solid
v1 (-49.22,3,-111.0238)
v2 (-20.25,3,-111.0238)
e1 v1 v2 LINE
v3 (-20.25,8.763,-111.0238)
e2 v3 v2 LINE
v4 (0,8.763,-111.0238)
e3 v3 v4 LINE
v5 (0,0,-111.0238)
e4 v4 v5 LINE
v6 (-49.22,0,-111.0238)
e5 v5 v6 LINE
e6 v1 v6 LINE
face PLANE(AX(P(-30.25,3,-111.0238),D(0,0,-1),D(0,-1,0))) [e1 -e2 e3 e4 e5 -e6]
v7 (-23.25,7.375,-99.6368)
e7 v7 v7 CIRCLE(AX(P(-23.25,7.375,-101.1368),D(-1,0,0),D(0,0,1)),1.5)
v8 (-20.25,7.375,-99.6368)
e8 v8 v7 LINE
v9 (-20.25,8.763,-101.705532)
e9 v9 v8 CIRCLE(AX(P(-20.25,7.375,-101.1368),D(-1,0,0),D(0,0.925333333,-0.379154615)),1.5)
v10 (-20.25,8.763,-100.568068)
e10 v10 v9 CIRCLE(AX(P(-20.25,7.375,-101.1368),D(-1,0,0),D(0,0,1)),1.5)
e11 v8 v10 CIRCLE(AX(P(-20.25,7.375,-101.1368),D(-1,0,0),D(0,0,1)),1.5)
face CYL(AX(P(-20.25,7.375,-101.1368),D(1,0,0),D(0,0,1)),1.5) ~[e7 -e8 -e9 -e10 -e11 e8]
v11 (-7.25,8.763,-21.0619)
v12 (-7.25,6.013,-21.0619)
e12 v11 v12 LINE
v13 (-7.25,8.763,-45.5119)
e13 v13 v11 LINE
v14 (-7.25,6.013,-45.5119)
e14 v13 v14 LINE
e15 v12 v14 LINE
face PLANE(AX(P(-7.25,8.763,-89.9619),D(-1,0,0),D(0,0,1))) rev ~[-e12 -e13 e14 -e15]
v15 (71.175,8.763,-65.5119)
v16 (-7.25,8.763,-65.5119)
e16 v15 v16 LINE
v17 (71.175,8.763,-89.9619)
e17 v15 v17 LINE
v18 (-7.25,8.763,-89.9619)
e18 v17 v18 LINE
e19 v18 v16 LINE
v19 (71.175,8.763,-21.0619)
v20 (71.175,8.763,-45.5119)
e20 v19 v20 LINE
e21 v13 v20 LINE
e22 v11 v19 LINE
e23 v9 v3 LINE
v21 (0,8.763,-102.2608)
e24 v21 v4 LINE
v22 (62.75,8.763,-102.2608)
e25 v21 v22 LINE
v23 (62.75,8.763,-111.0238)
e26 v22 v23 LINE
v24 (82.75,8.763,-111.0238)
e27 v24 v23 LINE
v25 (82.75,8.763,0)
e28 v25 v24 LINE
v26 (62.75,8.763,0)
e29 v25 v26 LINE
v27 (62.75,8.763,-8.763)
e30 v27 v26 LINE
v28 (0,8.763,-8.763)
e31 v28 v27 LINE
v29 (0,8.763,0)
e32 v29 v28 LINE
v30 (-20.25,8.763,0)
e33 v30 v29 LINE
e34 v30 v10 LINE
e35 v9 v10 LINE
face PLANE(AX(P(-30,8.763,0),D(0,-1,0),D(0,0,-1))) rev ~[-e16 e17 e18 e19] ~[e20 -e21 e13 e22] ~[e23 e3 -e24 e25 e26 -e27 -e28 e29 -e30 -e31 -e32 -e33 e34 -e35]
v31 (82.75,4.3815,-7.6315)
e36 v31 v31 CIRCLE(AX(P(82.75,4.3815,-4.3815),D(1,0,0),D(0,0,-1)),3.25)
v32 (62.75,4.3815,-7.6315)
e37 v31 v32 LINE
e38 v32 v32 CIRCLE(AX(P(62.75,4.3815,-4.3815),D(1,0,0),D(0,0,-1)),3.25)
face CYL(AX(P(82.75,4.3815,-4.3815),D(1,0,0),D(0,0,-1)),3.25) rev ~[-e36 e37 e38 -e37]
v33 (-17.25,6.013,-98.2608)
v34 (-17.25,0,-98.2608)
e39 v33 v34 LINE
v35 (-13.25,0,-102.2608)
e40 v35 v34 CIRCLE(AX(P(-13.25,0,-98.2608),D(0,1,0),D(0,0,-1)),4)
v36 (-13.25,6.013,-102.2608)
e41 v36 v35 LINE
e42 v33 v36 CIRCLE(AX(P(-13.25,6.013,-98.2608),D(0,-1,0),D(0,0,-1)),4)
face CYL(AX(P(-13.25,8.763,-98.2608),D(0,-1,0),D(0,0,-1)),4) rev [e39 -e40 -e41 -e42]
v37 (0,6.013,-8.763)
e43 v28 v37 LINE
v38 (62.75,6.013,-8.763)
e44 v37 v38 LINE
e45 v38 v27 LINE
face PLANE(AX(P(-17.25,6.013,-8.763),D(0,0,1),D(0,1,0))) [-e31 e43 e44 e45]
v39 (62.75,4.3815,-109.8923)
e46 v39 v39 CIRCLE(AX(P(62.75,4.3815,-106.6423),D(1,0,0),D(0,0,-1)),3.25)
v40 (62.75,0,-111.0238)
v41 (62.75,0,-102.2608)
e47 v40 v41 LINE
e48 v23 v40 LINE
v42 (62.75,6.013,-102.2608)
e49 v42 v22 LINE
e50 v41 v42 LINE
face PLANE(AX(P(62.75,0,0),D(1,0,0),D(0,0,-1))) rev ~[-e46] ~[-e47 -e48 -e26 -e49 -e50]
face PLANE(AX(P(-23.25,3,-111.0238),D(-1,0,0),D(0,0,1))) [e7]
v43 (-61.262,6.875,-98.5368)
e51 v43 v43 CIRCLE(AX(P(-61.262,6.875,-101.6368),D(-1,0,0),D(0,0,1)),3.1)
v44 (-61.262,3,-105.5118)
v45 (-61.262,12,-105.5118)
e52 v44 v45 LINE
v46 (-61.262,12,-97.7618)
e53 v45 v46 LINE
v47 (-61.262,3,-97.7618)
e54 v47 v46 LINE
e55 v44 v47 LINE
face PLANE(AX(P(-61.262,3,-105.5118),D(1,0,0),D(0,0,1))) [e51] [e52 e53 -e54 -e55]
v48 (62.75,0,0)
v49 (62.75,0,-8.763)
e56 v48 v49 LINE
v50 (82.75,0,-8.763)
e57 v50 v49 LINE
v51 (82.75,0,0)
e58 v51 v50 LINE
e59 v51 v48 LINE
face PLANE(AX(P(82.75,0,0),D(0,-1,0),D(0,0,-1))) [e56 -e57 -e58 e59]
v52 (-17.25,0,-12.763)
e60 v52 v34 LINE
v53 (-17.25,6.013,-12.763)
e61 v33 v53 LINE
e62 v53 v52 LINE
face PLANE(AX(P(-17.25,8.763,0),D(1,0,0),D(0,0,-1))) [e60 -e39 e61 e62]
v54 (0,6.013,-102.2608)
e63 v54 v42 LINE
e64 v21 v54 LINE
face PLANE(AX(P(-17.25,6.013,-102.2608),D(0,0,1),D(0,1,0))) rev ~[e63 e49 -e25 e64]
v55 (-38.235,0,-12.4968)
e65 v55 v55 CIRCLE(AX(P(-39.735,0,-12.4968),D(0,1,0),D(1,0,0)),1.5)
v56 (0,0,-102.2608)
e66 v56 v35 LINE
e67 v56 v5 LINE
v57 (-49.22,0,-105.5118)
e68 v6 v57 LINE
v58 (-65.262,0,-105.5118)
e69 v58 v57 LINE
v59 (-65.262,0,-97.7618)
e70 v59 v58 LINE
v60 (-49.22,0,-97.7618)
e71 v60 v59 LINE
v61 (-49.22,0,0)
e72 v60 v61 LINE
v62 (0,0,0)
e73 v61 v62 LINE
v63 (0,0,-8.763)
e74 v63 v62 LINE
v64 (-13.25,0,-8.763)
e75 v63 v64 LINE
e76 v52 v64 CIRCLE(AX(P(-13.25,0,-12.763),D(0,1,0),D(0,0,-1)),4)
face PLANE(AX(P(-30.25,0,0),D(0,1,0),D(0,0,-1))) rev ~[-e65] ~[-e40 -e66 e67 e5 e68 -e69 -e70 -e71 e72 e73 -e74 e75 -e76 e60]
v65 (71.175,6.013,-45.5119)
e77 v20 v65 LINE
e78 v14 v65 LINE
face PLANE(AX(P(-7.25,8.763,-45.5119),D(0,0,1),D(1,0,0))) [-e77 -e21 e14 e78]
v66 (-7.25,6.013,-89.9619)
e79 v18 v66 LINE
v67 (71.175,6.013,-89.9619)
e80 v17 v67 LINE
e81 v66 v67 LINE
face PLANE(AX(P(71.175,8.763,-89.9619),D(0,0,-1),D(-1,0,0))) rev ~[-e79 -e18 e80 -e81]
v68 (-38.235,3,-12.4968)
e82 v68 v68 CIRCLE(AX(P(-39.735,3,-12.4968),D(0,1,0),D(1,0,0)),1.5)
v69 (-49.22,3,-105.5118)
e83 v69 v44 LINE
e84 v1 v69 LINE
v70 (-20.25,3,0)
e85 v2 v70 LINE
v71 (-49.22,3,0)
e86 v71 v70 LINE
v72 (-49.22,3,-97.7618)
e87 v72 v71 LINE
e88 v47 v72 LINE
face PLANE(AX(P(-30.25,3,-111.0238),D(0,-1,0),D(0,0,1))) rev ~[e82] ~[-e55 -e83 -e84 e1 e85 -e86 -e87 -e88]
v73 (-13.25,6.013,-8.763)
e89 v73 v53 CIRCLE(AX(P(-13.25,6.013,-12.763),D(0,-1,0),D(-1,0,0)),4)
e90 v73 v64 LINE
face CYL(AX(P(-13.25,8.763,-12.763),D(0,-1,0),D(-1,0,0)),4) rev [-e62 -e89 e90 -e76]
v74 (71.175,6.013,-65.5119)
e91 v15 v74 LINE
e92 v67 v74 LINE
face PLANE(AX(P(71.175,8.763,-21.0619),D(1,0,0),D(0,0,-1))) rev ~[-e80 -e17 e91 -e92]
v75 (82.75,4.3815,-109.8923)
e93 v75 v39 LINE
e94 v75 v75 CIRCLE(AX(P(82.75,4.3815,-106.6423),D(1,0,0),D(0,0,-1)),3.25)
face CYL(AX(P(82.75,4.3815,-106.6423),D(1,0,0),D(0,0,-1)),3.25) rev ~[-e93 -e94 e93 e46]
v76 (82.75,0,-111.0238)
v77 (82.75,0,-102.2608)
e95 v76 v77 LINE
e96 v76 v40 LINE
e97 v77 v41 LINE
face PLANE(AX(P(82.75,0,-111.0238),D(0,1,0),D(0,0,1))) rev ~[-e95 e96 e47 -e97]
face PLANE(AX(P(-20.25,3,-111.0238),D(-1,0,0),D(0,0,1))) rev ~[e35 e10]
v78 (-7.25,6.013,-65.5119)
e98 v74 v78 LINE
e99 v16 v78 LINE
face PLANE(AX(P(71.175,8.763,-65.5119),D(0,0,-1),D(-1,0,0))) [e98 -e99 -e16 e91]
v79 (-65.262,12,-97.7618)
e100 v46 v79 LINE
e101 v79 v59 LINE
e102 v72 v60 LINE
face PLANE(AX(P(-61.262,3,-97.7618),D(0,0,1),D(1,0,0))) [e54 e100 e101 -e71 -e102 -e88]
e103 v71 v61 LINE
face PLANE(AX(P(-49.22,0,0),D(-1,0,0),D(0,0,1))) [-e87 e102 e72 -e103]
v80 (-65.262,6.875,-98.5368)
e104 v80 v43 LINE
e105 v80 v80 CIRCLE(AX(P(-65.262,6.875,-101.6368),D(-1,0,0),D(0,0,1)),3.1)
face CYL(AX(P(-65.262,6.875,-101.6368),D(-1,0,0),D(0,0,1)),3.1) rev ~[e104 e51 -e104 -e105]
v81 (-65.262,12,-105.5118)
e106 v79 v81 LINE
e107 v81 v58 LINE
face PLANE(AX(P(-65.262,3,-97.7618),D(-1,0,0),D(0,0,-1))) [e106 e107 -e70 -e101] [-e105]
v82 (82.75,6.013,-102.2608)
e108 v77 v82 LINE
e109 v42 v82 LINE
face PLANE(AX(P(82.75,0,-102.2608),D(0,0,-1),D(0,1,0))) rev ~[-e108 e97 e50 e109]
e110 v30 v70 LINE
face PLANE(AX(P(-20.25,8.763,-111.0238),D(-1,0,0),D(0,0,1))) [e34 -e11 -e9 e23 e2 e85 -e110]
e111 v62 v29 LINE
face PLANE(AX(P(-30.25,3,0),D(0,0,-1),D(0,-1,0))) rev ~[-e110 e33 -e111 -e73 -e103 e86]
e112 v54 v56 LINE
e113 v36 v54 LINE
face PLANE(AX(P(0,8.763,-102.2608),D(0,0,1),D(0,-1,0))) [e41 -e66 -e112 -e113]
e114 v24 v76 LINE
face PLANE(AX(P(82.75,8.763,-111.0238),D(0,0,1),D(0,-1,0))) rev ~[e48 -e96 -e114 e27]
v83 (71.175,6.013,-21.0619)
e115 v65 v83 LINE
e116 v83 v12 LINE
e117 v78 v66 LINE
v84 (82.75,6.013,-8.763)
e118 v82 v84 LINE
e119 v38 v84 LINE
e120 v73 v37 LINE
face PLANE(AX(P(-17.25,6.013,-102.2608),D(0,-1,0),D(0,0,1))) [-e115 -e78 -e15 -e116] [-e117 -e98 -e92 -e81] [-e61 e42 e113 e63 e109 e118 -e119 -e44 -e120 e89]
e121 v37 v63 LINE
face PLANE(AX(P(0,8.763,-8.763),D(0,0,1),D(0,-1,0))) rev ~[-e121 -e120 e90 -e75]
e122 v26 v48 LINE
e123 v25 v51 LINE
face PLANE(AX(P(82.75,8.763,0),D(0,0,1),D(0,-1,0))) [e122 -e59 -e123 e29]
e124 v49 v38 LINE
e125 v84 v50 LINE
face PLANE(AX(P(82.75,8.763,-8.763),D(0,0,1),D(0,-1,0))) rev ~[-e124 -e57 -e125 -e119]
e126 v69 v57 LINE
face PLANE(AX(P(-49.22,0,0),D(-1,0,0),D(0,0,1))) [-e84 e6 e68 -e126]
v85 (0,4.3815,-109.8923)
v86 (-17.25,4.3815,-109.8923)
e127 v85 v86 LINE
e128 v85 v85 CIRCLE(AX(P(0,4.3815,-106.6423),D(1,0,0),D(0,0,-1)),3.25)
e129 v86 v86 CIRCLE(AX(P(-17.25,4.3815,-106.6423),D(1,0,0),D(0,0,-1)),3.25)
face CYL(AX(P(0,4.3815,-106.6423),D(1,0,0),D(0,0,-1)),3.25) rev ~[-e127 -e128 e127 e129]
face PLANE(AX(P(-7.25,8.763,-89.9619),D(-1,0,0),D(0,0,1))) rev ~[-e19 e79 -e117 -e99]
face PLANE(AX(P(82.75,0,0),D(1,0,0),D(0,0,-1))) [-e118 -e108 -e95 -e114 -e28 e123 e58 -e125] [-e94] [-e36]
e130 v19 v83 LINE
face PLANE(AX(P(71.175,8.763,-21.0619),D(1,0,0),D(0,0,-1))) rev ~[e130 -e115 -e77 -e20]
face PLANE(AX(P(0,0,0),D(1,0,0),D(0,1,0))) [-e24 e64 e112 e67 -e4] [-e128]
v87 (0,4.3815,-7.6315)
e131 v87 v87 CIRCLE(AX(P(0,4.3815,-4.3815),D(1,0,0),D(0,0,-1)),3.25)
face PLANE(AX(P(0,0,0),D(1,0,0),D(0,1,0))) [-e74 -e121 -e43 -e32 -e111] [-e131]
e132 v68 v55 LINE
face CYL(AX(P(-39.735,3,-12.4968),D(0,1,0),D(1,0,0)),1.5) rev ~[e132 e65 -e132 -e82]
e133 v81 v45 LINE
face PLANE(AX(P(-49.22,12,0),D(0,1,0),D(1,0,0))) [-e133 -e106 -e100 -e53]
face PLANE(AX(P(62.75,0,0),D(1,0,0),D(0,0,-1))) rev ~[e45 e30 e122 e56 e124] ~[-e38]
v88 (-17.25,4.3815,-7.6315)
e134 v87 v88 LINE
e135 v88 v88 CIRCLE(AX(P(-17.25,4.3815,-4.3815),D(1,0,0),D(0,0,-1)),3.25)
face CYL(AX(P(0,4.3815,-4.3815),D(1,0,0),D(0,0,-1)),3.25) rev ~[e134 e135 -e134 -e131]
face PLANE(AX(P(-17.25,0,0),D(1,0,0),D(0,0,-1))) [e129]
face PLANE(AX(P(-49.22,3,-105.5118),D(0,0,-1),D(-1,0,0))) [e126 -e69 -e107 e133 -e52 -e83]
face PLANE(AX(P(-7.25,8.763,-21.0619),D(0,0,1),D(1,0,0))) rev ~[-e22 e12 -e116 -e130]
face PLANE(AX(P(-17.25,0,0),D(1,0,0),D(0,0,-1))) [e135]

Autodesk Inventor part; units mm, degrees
ref_plane "YZ Plane" through (0, 0, 0) normal (1, 0, 0) x (0, 1, 0)
ref_plane "XZ Plane" through (0, 0, 0) normal (0, 1, 0) x (-1, 0, 0)
ref_plane "XY Plane" through (0, 0, 0) normal (0, 0, 1) x (1, 0, 0)
sketch "Sketch1" plane through (0, 0, 0) normal (1, 0, 0) x (0, 1, 0)
  line L0 (0, 0) -> (8.763, 0)
  line L1 (8.763, 0) -> (8.763, -5.5118)
  line L2 (8.763, -5.5118) -> (0, -5.5118)
  line L3 (0, -5.5118) -> (0, 0)
  line L4 (1.5875, -3.9243) -> (7.1755, -3.9243)
  line L5 (7.1755, -3.9243) -> (7.1755, -1.5875)
  line L6 (7.1755, -1.5875) -> (1.5875, -1.5875)
  line L7 (1.5875, -1.5875) -> (1.5875, -3.9243)
  line L8 (1.5875, -3.9243) -> (7.1755, -1.5875) construction
  line L9 (7.1755, -3.9243) -> (1.5875, -1.5875) construction
  line L10 (0, -105.512) -> (8.763, -105.512)
  line L11 (8.763, -105.512) -> (8.763, -111.0238)
  line L12 (8.763, -111.0238) -> (0, -111.0238)
  line L13 (0, -111.0238) -> (0, -105.512)
  line L14 (1.5875, -109.4363) -> (7.1755, -109.4363)
  line L15 (7.1755, -109.4363) -> (7.1755, -107.0995)
  line L16 (7.1755, -107.0995) -> (1.5875, -107.0995)
  line L17 (1.5875, -107.0995) -> (1.5875, -109.4363)
  line L18 (1.5875, -109.4363) -> (7.1755, -107.0995) construction
  line L19 (7.1755, -109.4363) -> (1.5875, -107.0995) construction
  point P0 (4.3815, -2.7559)
  point P1 (4.3815, -108.2679)
  dimension "d0" = 8.763
  dimension "d1" = 5.5118
  dimension "d2" = 5.588
  dimension "d3" = 2.3368
  dimension "d4" = 8.763
  dimension "d5" = 5.5118
  dimension "d6" = 5.588
  dimension "d7" = 2.3368
extrude "Extrusion1" add sketch "Sketch1" against normal blind 30
sketch "Sketch2" plane through (-30, 0, 0) normal (-1, 0, 0) x (0, 0, 1)
  line L0 (0, 0) -> (0, 8.763) projected
  line L1 (-111.0238, 0) -> (0, 0)
  line L2 (0, 0) -> (0, 8.763)
  line L3 (0, 8.763) -> (-111.0238, 8.763)
  line L4 (-111.0238, 8.763) -> (-111.0238, 0)
extrude "Extrusion2" add sketch "Sketch2" along normal blind 0.25
fillet "Fillet1" radius 5 2 edges at (-30, 4.3815, -5.5118) (-30, 4.3815, -105.512)
sketch "Sketch3" plane through (-30.25, 0, 0) normal (-1, 0, 0) x (0, 0, 1)
  point P0 (0, 0)
sketch "Sketch4" plane through (-30.25, 0, 0) normal (-1, 0, 0) x (0, 0, 1)
  line L0 (-111.0238, 8.763) -> (-111.0238, 0) projected
  line L1 (0, 0) -> (-111.0238, 0)
  line L2 (-111.0238, 0) -> (-111.0238, 3)
  line L3 (-111.0238, 3) -> (0, 3)
  line L4 (0, 3) -> (0, 0)
  dimension "d13" = 3
extrude "Extrusion3" add sketch "Sketch4" along normal blind 18.97
sketch "Sketch5" plane through (-30.25, 3, 0) normal (0, 1, 0) x (1, 0, 0)
  line L0 (0, 0) -> (0, 111.0238) construction
  line L1 (0, 0) -> (-9.485, 0) construction
  line L2 (-9.485, 0) -> (-9.485, 6.985) construction
  line L3 (-9.485, 6.985) -> (0, 6.985) construction
  line L4 (0, 6.985) -> (0, 0) construction
  circle A0 centre (-9.485, 6.985) radius 1.5875
  point P0 (30.25, 0)
  dimension "d16" = 9.485
  dimension "d17" = 6.985
  dimension "d18" = 3.175
extrude "Extrusion4" cut sketch "Sketch5" against normal blind 5
sketch "Sketch6" plane through (-30.25, 3, 0) normal (0, 1, 0) x (1, 0, 0)
  line L0 (30.25, 111.0238) -> (-18.97, 111.0238) construction
  line L1 (-28.07, 111.0238) -> (-28.07, 111.0238) construction
  line L2 (-28.07, 111.0238) -> (-28.07, 111.0238) construction
  line L3 (-28.07, 111.0238) -> (-28.07, 111.0238) construction
  line L4 (-28.07, 111.0238) -> (-28.07, 111.0238) construction
  line L5 (-28.07, 111.0238) -> (-28.07, 111.0238) construction
  line L6 (-28.07, 118.8238) -> (-28.07, 111.0238) construction
  line L7 (-28.07, 111.0238) -> (-37.17, 111.0238) construction
  line L8 (-37.17, 111.0238) -> (-37.17, 114.8988) construction
  line L9 (-28.07, 111.0238) -> (-28.07, 111.0238) construction
  line L10 (-28.07, 111.0238) -> (-28.07, 111.0238) construction
  line L11 (-28.07, 111.0238) -> (-28.07, 111.0238) construction
  line L12 (-28.07, 111.0238) -> (-28.07, 111.0238) construction
  line L13 (-28.07, 111.0238) -> (-28.07, 111.0238) construction
  line L14 (-28.07, 111.0238) -> (-28.07, 111.0238)
  line L15 (-28.07, 111.0238) -> (-28.07, 111.0238)
  line L16 (-28.07, 111.0238) -> (-28.07, 111.0238)
  line L17 (-28.07, 111.0238) -> (-28.07, 111.0238)
  point P0 (30.25, 0)
  dimension "d21" = 0
  dimension "d22" = 0
  dimension "d23" = 0
  dimension "d26" = 0
  dimension "d27" = 0
sketch "Sketch7" plane through (-30.25, 3, 0) normal (0, 1, 0) x (1, 0, 0)
  line L0 (-18.97, 0) -> (-18.97, 111.0238) projected
  line L1 (-18.97, 111.0238) -> (-27.97, 111.0238)
  line L2 (-27.97, 111.0238) -> (-27.97, 103.2738)
  line L3 (-27.97, 103.2738) -> (-18.97, 103.2738)
  line L4 (-18.97, 103.2738) -> (-18.97, 111.0238)
  point P0 (30.25, 0)
  dimension "d28" = 9
  dimension "d29" = 7.75
extrude "Extrusion5" add sketch "Sketch7" against normal blind 3
sketch "Sketch8" plane through (-30.25, 3, 0) normal (0, 1, 0) x (1, 0, 0)
  line L0 (-27.97, 111.0238) -> (-27.97, 103.2738) projected
  line L1 (-27.97, 111.0238) -> (-31.97, 111.0238)
  line L2 (-31.97, 111.0238) -> (-31.97, 103.2738)
  line L3 (-31.97, 103.2738) -> (-27.97, 103.2738)
  line L4 (-27.97, 103.2738) -> (-27.97, 111.0238)
  point P0 (30.25, 0)
  dimension "d32" = 4
extrude "Extrusion6" add sketch "Sketch8" along normal blind 8 and the other way blind 3
sketch "Sketch9" plane through (0, 0, -5.5118) normal (0, -1, 0) x (1, 0, 0)
  point P0 (0, 5.5118)
sketch "Sketch10" plane through (-62.22, 0, -103.2738) normal (-1, 0, 0) x (0, 0, 1)
  line L0 (-7.75, 0) -> (-2.2382, 0) construction
  line L1 (0, 3) -> (0, 11) construction
  line L2 (-7.75, 0) -> (0, 0) construction
  line L3 (0, 0) -> (0, 3) construction
  line L4 (0, 3) -> (-7.75, 3) construction
  line L5 (-7.75, 3) -> (-7.75, 0) construction
  line L6 (103.2738, 3) -> (0, 3) construction
  line L7 (-7.75, 8.763) -> (-7.75, 3) construction
  line L8 (0, 3) -> (-7.75, 3) construction
  line L9 (-7.75, 3) -> (-7.75, 6.875) construction
  line L10 (-7.75, 6.875) -> (0, 6.875) construction
  line L11 (0, 6.875) -> (0, 3) construction
  circle A0 centre (-3.875, 6.875) radius 3.1
  point P0 (103.2738, 0)
  dimension "d37" = 3.875
  dimension "d38" = 6.2
extrude "Extrusion7" cut sketch "Sketch10" against normal blind 5
sketch "Sketch11" plane through (0, 8.763, 0) normal (0, 1, 0) x (1, 0, 0)
  line L0 (-30.25, 111.0238) -> (-30.25, 0) projected
  line L1 (0, 0) -> (-30.25, 0) projected
  line L2 (-30.25, 111.0238) -> (-20.25, 111.0238)
  line L3 (-20.25, 111.0238) -> (-20.25, 0)
  line L4 (-20.25, 0) -> (-30.25, 0)
  line L5 (-30.25, 0) -> (-30.25, 111.0238)
  dimension "d41" = 10
extrude "Extrusion8" cut sketch "Sketch11" against normal blind 10
sketch "Sketch12" plane through (-30.25, 0, 0) normal (1, 0, 0) x (0, 0, -1)
  line L0 (111.0238, 3) -> (111.0238, 0) projected
  line L1 (0, 0) -> (111.0238, 0)
  line L2 (111.0238, 0) -> (111.0238, 3)
  line L3 (111.0238, 3) -> (0, 3)
  line L4 (0, 3) -> (0, 0)
extrude "Extrusion9" add sketch "Sketch12" along normal blind 13
sketch "Sketch13" plane through (0, 8.763, 0) normal (0, 1, 0) x (1, 0, 0)
  line L0 (-20.25, 5.5118) -> (-20.25, 0) projected
  line L1 (-62.22, 111.0238) -> (0, 111.0238) projected
  line L2 (-20.25, 0) -> (-17.25, 0)
  line L3 (-17.25, 0) -> (-17.25, 111.0238)
  line L4 (-17.25, 111.0238) -> (-20.25, 111.0238)
  line L5 (-20.25, 111.0238) -> (-20.25, 0)
  point P0 (0, 0)
  dimension "d46" = 3
extrude "Extrusion10" add sketch "Sketch13" against normal blind 8.75
sketch "Sketch14" plane through (-49.22, 3, 0) normal (0, 1, 0) x (1, 0, 0)
  line L0 (-9, 111.0238) -> (28.97, 111.0238) construction
  line L1 (0, 0) -> (0, 0) construction
  line L2 (0, 0) -> (0, 111.0238) construction
  line L3 (0, 111.0238) -> (0, 111.0238) construction
  line L4 (0, 111.0238) -> (0, 0) construction
  point P0 (49.22, 0)
  dimension "d49" = 0
sketch "Sketch15" plane through (-49.22, 3, 0) normal (0, 1, 0) x (1, 0, 0)
  line L0 (0, 107.1488) -> (28.97, 107.1488) construction
  line L1 (28.97, 111.0238) -> (28.97, 0) construction
  point P0 (49.22, 0)
sketch "Sketch16" plane through (-20.25, 8.763, -111.0238) normal (-1, 0, 0) x (0, 0, 1)
  line L0 (0, 0) -> (111.0238, 0) construction
  line L1 (0, 0) -> (7.7501, 0) construction
  line L2 (0, -5.763) -> (111.0238, -5.763) construction
  line L3 (0, 0) -> (7.7501, 0) construction
  line L4 (7.7501, 0) -> (7.7501, -5.763) construction
  line L5 (7.7501, -5.763) -> (0, -5.763) construction
  line L6 (0, -5.763) -> (0, 0) construction
  line L7 (0, -5.763) -> (4.375, -5.763) construction
  line L8 (4.375, -5.763) -> (4.375, -1.388) construction
  line L9 (4.375, -1.388) -> (0, -1.388) construction
  line L10 (0, -1.388) -> (0, -5.763) construction
  circle A0 centre (4.375, -1.388) radius 1.5
  point P0 (111.0238, -8.763)
  dimension "d52" = 4.375
  dimension "d53" = 4.375
  dimension "d54" = 3
extrude "Extrusion11" add sketch "Sketch16" along normal blind 2
sketch "Sketch17" plane through (-49.22, 3, 0) normal (0, 1, 0) x (1, 0, 0)
  circle A0 centre (9.485, 6.985) radius 1.5875 construction
  line L0 (0, 0) -> (0, 103.2738) construction
  line L1 (9.485, 6.985) -> (0, 6.985) construction
  line L2 (0, 6.985) -> (0, 0) construction
  line L3 (0, 0) -> (9.485, 0) construction
  line L4 (9.485, 0) -> (9.485, 6.985) construction
  line L5 (31.97, 5.5118) -> (31.97, 105.512) construction
  line L6 (31.97, 5.5118) -> (0, 5.5118) construction
  line L7 (0, 5.5118) -> (0, 12.4968) construction
  line L8 (0, 12.4968) -> (31.97, 12.4968) construction
  line L9 (31.97, 12.4968) -> (31.97, 5.5118) construction
  circle A1 centre (9.485, 12.4968) radius 1.5
  circle A2 centre (9.485, 6.985) radius 1.4732
  circle A3 centre (9.485, 6.985) radius 2.1184
  point P0 (49.22, 0)
  dimension "d57" = 9.485
  dimension "d58" = 6.985
  dimension "d59" = 6.985
  dimension "d60" = 3
extrude "Extrusion12" cut sketch "Sketch17" against normal blind 3 contours A1
sketch "Sketch18" plane through (-49.22, 3, 0) normal (0, 1, 0) x (1, 0, 0)
  circle A0 centre (9.485, 6.985) radius 1.5875 projected
  circle A1 centre (9.485, 6.985) radius 2.2024
  point P0 (49.22, 0)
extrude "Extrusion13" add sketch "Sketch18" against normal blind 3 contours A0 | A1
sketch "Sketch19" plane through (-49.22, 3, 0) normal (0, 1, 0) x (1, 0, 0)
  line L0 (49.22, 5.5118) -> (31.97, 5.5118) construction
  line L1 (31.97, 5.5118) -> (0, 5.5118) construction
  line L2 (31.97, 105.5118) -> (31.97, 5.5118) construction
  line L3 (0, 103.2738) -> (0, 0) construction
  line L4 (0, 103.2738) -> (-13.792, 103.2738) construction
  line L5 (-13.792, 103.2738) -> (-13.792, 112.9328) construction
  line L6 (-13.792, 112.9328) -> (0, 112.9328) construction
  line L7 (0, 112.9328) -> (0, 103.2738) construction
  line L8 (-9, 103.2738) -> (0, 103.2738) projected
  line L9 (0, 103.2738) -> (-14.6847, 103.2738)
  line L10 (-14.6847, 103.2738) -> (-14.6847, 119.5752)
  line L11 (-14.6847, 119.5752) -> (0, 119.5752)
  line L12 (0, 119.5752) -> (0, 103.2738)
  point P0 (49.22, 0)
extrude "Extrusion14" cut sketch "Sketch19" along normal mid plane 30
sketch "Sketch20" plane through (-49.22, 3, 0) normal (0, 1, 0) x (1, 0, 0)
  line L0 (31.97, 5.5118) -> (31.97, 105.512) construction
  line L1 (0, 0) -> (0, 111.0238) construction
  line L2 (31.97, 5.5118) -> (0, 5.5118) construction
  line L3 (0, 5.5118) -> (0, 105.5118) construction
  line L4 (0, 105.5118) -> (31.97, 105.5118) construction
  line L5 (31.97, 105.5118) -> (31.97, 5.5118) construction
  line L6 (0, 105.5118) -> (-12.042, 105.5118)
  line L7 (-12.042, 105.5118) -> (-12.042, 97.7618)
  line L8 (-12.042, 97.7618) -> (0, 97.7618)
  line L9 (0, 97.7618) -> (0, 105.5118)
  point P0 (49.22, 0)
  dimension "d68" = 100
  dimension "d69" = 12.042
  dimension "d70" = 7.75
extrude "Extrusion15" add sketch "Sketch20" against normal blind 3
sketch "Sketch21" plane through (-49.22, 3, 0) normal (0, 1, 0) x (1, 0, 0)
  line L0 (-12.042, 97.7618) -> (0, 97.7618) projected
  line L1 (-12.042, 97.7618) -> (-16.042, 97.7618)
  line L2 (-16.042, 97.7618) -> (-16.042, 105.5118)
  line L3 (-16.042, 105.5118) -> (-12.042, 105.5118)
  line L4 (-12.042, 105.5118) -> (-12.042, 97.7618)
  point P0 (49.22, 0)
  dimension "d73" = 4
extrude "Extrusion16" add sketch "Sketch21" along normal blind 9 and the other way blind 3
sketch "Sketch22" plane through (-65.262, 0, -97.7618) normal (-1, 0, 0) x (0, 0, 1)
  line L0 (-13.262, 3) -> (97.7618, 3) construction
  line L1 (0, 3) -> (-7.75, 3) construction
  line L2 (-7.75, 0) -> (-7.75, 3) construction
  line L3 (-7.75, 3) -> (-3.875, 3) construction
  line L4 (-3.875, 3) -> (-3.875, 6.875) construction
  line L5 (-3.875, 6.875) -> (-7.75, 6.875) construction
  line L6 (-7.75, 6.875) -> (-7.75, 3) construction
  circle A0 centre (-3.875, 6.875) radius 3.1
  point P0 (97.7618, 0)
  dimension "d78" = 7.75
  dimension "d79" = 3.875
  dimension "d80" = 3.875
  dimension "d81" = 6.2
extrude "Extrusion17" cut sketch "Sketch22" against normal blind 4
sketch "Sketch23" plane through (-49.22, 3, 0) normal (0, 1, 0) x (1, 0, 0)
  point P0 (49.22, 0)
sketch "Sketch24" plane through (-20.25, 3, -111.0238) normal (-1, 0, 0) x (0, 0, 1)
  line L0 (0, 5.763) -> (3.8063, 5.763) construction
  line L1 (0, 0) -> (111.0238, 0) construction
  line L2 (0, 5.763) -> (5.512, 5.763) construction
  line L3 (5.512, 5.763) -> (5.512, 0) construction
  line L4 (5.512, 0) -> (0, 0) construction
  line L5 (0, 0) -> (0, 5.763) construction
  line L6 (5.512, 0) -> (9.887, 0) construction
  line L7 (9.887, 0) -> (9.887, 4.375) construction
  line L8 (9.887, 4.375) -> (5.512, 4.375) construction
  line L9 (5.512, 4.375) -> (5.512, 0) construction
  circle A0 centre (9.887, 4.375) radius 1.5
  point P0 (111.0238, -3)
  dimension "d84" = 5.512
  dimension "d85" = 4.375
  dimension "d86" = 4.375
  dimension "d87" = 3
extrude "Extrusion18" add sketch "Sketch24" along normal blind 3
sketch "Sketch25" plane through (-22.25, 7.375, -106.6488) normal (-1, 0, 0) x (0, 0, 1)
  circle A0 centre (0, 0) radius 1.5
  point P0 (106.6488, -7.375)
extrude "Extrusion19" cut sketch "Sketch25" against normal blind 2
sketch "Sketch26" plane through (0, 0, 0) normal (1, 0, 0) x (0, 0, -1)
  line L0 (0, 0) -> (0, 8.763) projected
  line L1 (0, 8.763) -> (8.763, 8.763)
  line L2 (8.763, 8.763) -> (8.763, 0)
  line L3 (8.763, 0) -> (0, 0)
  line L4 (0, 0) -> (0, 8.763)
  line L5 (105.512, 8.763) -> (111.0238, 8.763) projected
  line L6 (5.5118, 0) -> (105.512, 0) projected
  line L7 (111.0238, 8.763) -> (102.2608, 8.763)
  line L8 (102.2608, 8.763) -> (102.2608, 0)
  line L9 (102.2608, 0) -> (111.0238, 0)
  line L10 (111.0238, 0) -> (111.0238, 8.763)
  dimension "d92" = 8.763
  dimension "d93" = 8.763
extrude "Extrusion20" add sketch "Sketch26" against normal blind 20.25
sketch "Sketch27" plane through (-49.22, 3, 0) normal (0, 1, 0) x (1, 0, 0)
  point P0 (49.22, 0)
sketch "Sketch28" plane through (0, 0, 0) normal (1, 0, 0) x (0, 0, -1)
  line L0 (0, 8.763) -> (8.763, 8.763) construction
  line L1 (0, 8.763) -> (8.763, 0) construction
  line L2 (8.763, 0) -> (8.763, 8.763) construction
  line L3 (97.7618, 0) -> (0, 0) construction
  line L4 (8.763, 8.763) -> (0, 0) construction
  line L5 (111.0238, 8.763) -> (102.2608, 8.763) construction
  line L6 (111.0238, 8.763) -> (111.0238, 0) construction
  line L7 (102.2608, 8.763) -> (111.0238, 0) construction
  line L8 (111.0238, 0) -> (111.0238, 8.763) construction
  line L9 (111.0238, 8.763) -> (102.2608, 0) construction
  circle A0 centre (106.6423, 4.3815) radius 3.25
  circle A1 centre (4.3815, 4.3815) radius 3.25
  dimension "d96" = 6.5
  dimension "d97" = 6.5
extrude "Extrusion21" cut sketch "Sketch28" against normal blind 17.25
fillet "Fillet2" radius 4 2 edges at (-17.25, 4.3815, -8.763) (-17.25, 4.3815, -102.2608)
sketch "Sketch29" plane through (-17.25, 0, 0) normal (1, 0, 0) x (0, 0, -1)
  line L0 (8.763, 0) -> (8.763, 8.763) projected
  line L1 (102.2608, 0) -> (102.2608, 8.763) projected
  line L2 (8.763, 8.763) -> (102.2608, 8.763)
  line L3 (102.2608, 8.763) -> (102.2608, 6.013)
  line L4 (102.2608, 6.013) -> (8.763, 6.013)
  line L5 (8.763, 6.013) -> (8.763, 8.763)
  point P0 (0, 0)
  dimension "d101" = 2.75
extrude "Extrusion22" add sketch "Sketch29" along normal blind 100
sketch "Sketch30" plane through (-20.25, 8.763, -111.0238) normal (0, 1, 0) x (1, 0, 0)
  line L0 (103, -102.2608) -> (103, -8.763) construction
  line L1 (103, -102.2608) -> (3, -102.2608) construction
  line L2 (3, -102.2608) -> (3, -8.763) construction
  line L3 (3, -8.763) -> (103, -8.763) construction
  line L4 (103, -8.763) -> (103, -102.2608) construction
  line L5 (3, -98.2608) -> (3, -12.763) construction
  line L6 (3, -55.5119) -> (103, -55.5119) construction
  line L7 (3, -55.5119) -> (101.425, -55.5119) construction
  line L8 (101.425, -55.5119) -> (101.425, -99.9619) construction
  line L9 (101.425, -99.9619) -> (3, -99.9619) construction
  line L10 (3, -99.9619) -> (3, -55.5119) construction
  line L11 (3, -55.5119) -> (101.425, -55.5119) construction
  line L12 (101.425, -55.5119) -> (101.425, -11.0619) construction
  line L13 (101.425, -11.0619) -> (3, -11.0619) construction
  line L14 (3, -11.0619) -> (3, -55.5119) construction
  line L15 (101.425, -55.5119) -> (91.425, -55.5119) construction
  line L16 (91.425, -55.5119) -> (91.425, -11.0619) construction
  line L17 (91.425, -11.0619) -> (91.425, -21.0619) construction
  line L18 (91.425, -21.0619) -> (3, -21.0619) construction
  line L19 (13, -21.0619) -> (13, -99.9619) construction
  line L20 (13, -99.9619) -> (13, -89.9619) construction
  line L21 (13, -89.9619) -> (101.425, -89.9619) construction
  line L22 (91.425, -55.5119) -> (91.425, -89.9619) construction
  line L23 (13, -89.9619) -> (91.425, -89.9619)
  line L24 (91.425, -89.9619) -> (91.425, -21.0619)
  line L25 (91.425, -21.0619) -> (13, -21.0619)
  line L26 (13, -21.0619) -> (13, -89.9619)
  point P0 (20.25, -111.0238)
  dimension "d104" = 100
  dimension "d105" = 98.425
  dimension "d106" = 44.45
  dimension "d107" = 44.45
  dimension "d108" = 10
  dimension "d109" = 10
  dimension "d110" = 10
extrude "Extrusion23" cut sketch "Sketch30" against normal blind 5
sketch "Sketch31" plane through (-20.25, 8.763, -111.0238) normal (0, 1, 0) x (1, 0, 0)
  line L0 (13, -89.9619) -> (13, -21.0619) construction
  line L1 (13, -55.5119) -> (91.425, -55.5119) construction
  line L2 (91.425, -89.9619) -> (91.425, -21.0619) construction
  line L3 (91.425, -45.5119) -> (13, -45.5119)
  line L4 (13, -45.5119) -> (13, -65.5119)
  line L5 (13, -65.5119) -> (91.425, -65.5119)
  line L6 (91.425, -65.5119) -> (91.425, -45.5119)
  line L7 (91.425, -45.5119) -> (13, -65.5119) construction
  line L8 (13, -45.5119) -> (91.425, -65.5119) construction
  point P0 (20.25, -111.0238)
  point P1 (52.2125, -55.5119)
  dimension "d113" = 20
extrude "Extrusion24" add sketch "Sketch31" against normal blind 2.75
sketch "Sketch32" plane through (82.75, 0, 0) normal (1, 0, 0) x (0, 0, -1)
  line L0 (8.763, 8.763) -> (8.763, 6.013) projected
  line L1 (0, 0) -> (8.763, 0) projected
  line L2 (8.763, 8.763) -> (0, 8.763)
  line L3 (0, 8.763) -> (0, 0)
  line L4 (0, 0) -> (8.763, 0)
  line L5 (8.763, 0) -> (8.763, 8.763)
  line L6 (111.0238, 8.763) -> (111.0238, 0) projected
  line L7 (102.2608, 8.763) -> (111.0238, 8.763)
  line L8 (111.0238, 8.763) -> (111.0238, 0)
  line L9 (111.0238, 0) -> (102.2608, 0)
  line L10 (102.2608, 0) -> (102.2608, 8.763)
  circle A0 centre (106.6423, 4.3815) radius 3.25
  circle A1 centre (4.3815, 4.3815) radius 3.25 projected
  circle A2 centre (4.3815, 4.3815) radius 3.25
extrude "Extrusion25" add sketch "Sketch32" against normal blind 20
properties part number "mtv_frontHolder(4_30)"
